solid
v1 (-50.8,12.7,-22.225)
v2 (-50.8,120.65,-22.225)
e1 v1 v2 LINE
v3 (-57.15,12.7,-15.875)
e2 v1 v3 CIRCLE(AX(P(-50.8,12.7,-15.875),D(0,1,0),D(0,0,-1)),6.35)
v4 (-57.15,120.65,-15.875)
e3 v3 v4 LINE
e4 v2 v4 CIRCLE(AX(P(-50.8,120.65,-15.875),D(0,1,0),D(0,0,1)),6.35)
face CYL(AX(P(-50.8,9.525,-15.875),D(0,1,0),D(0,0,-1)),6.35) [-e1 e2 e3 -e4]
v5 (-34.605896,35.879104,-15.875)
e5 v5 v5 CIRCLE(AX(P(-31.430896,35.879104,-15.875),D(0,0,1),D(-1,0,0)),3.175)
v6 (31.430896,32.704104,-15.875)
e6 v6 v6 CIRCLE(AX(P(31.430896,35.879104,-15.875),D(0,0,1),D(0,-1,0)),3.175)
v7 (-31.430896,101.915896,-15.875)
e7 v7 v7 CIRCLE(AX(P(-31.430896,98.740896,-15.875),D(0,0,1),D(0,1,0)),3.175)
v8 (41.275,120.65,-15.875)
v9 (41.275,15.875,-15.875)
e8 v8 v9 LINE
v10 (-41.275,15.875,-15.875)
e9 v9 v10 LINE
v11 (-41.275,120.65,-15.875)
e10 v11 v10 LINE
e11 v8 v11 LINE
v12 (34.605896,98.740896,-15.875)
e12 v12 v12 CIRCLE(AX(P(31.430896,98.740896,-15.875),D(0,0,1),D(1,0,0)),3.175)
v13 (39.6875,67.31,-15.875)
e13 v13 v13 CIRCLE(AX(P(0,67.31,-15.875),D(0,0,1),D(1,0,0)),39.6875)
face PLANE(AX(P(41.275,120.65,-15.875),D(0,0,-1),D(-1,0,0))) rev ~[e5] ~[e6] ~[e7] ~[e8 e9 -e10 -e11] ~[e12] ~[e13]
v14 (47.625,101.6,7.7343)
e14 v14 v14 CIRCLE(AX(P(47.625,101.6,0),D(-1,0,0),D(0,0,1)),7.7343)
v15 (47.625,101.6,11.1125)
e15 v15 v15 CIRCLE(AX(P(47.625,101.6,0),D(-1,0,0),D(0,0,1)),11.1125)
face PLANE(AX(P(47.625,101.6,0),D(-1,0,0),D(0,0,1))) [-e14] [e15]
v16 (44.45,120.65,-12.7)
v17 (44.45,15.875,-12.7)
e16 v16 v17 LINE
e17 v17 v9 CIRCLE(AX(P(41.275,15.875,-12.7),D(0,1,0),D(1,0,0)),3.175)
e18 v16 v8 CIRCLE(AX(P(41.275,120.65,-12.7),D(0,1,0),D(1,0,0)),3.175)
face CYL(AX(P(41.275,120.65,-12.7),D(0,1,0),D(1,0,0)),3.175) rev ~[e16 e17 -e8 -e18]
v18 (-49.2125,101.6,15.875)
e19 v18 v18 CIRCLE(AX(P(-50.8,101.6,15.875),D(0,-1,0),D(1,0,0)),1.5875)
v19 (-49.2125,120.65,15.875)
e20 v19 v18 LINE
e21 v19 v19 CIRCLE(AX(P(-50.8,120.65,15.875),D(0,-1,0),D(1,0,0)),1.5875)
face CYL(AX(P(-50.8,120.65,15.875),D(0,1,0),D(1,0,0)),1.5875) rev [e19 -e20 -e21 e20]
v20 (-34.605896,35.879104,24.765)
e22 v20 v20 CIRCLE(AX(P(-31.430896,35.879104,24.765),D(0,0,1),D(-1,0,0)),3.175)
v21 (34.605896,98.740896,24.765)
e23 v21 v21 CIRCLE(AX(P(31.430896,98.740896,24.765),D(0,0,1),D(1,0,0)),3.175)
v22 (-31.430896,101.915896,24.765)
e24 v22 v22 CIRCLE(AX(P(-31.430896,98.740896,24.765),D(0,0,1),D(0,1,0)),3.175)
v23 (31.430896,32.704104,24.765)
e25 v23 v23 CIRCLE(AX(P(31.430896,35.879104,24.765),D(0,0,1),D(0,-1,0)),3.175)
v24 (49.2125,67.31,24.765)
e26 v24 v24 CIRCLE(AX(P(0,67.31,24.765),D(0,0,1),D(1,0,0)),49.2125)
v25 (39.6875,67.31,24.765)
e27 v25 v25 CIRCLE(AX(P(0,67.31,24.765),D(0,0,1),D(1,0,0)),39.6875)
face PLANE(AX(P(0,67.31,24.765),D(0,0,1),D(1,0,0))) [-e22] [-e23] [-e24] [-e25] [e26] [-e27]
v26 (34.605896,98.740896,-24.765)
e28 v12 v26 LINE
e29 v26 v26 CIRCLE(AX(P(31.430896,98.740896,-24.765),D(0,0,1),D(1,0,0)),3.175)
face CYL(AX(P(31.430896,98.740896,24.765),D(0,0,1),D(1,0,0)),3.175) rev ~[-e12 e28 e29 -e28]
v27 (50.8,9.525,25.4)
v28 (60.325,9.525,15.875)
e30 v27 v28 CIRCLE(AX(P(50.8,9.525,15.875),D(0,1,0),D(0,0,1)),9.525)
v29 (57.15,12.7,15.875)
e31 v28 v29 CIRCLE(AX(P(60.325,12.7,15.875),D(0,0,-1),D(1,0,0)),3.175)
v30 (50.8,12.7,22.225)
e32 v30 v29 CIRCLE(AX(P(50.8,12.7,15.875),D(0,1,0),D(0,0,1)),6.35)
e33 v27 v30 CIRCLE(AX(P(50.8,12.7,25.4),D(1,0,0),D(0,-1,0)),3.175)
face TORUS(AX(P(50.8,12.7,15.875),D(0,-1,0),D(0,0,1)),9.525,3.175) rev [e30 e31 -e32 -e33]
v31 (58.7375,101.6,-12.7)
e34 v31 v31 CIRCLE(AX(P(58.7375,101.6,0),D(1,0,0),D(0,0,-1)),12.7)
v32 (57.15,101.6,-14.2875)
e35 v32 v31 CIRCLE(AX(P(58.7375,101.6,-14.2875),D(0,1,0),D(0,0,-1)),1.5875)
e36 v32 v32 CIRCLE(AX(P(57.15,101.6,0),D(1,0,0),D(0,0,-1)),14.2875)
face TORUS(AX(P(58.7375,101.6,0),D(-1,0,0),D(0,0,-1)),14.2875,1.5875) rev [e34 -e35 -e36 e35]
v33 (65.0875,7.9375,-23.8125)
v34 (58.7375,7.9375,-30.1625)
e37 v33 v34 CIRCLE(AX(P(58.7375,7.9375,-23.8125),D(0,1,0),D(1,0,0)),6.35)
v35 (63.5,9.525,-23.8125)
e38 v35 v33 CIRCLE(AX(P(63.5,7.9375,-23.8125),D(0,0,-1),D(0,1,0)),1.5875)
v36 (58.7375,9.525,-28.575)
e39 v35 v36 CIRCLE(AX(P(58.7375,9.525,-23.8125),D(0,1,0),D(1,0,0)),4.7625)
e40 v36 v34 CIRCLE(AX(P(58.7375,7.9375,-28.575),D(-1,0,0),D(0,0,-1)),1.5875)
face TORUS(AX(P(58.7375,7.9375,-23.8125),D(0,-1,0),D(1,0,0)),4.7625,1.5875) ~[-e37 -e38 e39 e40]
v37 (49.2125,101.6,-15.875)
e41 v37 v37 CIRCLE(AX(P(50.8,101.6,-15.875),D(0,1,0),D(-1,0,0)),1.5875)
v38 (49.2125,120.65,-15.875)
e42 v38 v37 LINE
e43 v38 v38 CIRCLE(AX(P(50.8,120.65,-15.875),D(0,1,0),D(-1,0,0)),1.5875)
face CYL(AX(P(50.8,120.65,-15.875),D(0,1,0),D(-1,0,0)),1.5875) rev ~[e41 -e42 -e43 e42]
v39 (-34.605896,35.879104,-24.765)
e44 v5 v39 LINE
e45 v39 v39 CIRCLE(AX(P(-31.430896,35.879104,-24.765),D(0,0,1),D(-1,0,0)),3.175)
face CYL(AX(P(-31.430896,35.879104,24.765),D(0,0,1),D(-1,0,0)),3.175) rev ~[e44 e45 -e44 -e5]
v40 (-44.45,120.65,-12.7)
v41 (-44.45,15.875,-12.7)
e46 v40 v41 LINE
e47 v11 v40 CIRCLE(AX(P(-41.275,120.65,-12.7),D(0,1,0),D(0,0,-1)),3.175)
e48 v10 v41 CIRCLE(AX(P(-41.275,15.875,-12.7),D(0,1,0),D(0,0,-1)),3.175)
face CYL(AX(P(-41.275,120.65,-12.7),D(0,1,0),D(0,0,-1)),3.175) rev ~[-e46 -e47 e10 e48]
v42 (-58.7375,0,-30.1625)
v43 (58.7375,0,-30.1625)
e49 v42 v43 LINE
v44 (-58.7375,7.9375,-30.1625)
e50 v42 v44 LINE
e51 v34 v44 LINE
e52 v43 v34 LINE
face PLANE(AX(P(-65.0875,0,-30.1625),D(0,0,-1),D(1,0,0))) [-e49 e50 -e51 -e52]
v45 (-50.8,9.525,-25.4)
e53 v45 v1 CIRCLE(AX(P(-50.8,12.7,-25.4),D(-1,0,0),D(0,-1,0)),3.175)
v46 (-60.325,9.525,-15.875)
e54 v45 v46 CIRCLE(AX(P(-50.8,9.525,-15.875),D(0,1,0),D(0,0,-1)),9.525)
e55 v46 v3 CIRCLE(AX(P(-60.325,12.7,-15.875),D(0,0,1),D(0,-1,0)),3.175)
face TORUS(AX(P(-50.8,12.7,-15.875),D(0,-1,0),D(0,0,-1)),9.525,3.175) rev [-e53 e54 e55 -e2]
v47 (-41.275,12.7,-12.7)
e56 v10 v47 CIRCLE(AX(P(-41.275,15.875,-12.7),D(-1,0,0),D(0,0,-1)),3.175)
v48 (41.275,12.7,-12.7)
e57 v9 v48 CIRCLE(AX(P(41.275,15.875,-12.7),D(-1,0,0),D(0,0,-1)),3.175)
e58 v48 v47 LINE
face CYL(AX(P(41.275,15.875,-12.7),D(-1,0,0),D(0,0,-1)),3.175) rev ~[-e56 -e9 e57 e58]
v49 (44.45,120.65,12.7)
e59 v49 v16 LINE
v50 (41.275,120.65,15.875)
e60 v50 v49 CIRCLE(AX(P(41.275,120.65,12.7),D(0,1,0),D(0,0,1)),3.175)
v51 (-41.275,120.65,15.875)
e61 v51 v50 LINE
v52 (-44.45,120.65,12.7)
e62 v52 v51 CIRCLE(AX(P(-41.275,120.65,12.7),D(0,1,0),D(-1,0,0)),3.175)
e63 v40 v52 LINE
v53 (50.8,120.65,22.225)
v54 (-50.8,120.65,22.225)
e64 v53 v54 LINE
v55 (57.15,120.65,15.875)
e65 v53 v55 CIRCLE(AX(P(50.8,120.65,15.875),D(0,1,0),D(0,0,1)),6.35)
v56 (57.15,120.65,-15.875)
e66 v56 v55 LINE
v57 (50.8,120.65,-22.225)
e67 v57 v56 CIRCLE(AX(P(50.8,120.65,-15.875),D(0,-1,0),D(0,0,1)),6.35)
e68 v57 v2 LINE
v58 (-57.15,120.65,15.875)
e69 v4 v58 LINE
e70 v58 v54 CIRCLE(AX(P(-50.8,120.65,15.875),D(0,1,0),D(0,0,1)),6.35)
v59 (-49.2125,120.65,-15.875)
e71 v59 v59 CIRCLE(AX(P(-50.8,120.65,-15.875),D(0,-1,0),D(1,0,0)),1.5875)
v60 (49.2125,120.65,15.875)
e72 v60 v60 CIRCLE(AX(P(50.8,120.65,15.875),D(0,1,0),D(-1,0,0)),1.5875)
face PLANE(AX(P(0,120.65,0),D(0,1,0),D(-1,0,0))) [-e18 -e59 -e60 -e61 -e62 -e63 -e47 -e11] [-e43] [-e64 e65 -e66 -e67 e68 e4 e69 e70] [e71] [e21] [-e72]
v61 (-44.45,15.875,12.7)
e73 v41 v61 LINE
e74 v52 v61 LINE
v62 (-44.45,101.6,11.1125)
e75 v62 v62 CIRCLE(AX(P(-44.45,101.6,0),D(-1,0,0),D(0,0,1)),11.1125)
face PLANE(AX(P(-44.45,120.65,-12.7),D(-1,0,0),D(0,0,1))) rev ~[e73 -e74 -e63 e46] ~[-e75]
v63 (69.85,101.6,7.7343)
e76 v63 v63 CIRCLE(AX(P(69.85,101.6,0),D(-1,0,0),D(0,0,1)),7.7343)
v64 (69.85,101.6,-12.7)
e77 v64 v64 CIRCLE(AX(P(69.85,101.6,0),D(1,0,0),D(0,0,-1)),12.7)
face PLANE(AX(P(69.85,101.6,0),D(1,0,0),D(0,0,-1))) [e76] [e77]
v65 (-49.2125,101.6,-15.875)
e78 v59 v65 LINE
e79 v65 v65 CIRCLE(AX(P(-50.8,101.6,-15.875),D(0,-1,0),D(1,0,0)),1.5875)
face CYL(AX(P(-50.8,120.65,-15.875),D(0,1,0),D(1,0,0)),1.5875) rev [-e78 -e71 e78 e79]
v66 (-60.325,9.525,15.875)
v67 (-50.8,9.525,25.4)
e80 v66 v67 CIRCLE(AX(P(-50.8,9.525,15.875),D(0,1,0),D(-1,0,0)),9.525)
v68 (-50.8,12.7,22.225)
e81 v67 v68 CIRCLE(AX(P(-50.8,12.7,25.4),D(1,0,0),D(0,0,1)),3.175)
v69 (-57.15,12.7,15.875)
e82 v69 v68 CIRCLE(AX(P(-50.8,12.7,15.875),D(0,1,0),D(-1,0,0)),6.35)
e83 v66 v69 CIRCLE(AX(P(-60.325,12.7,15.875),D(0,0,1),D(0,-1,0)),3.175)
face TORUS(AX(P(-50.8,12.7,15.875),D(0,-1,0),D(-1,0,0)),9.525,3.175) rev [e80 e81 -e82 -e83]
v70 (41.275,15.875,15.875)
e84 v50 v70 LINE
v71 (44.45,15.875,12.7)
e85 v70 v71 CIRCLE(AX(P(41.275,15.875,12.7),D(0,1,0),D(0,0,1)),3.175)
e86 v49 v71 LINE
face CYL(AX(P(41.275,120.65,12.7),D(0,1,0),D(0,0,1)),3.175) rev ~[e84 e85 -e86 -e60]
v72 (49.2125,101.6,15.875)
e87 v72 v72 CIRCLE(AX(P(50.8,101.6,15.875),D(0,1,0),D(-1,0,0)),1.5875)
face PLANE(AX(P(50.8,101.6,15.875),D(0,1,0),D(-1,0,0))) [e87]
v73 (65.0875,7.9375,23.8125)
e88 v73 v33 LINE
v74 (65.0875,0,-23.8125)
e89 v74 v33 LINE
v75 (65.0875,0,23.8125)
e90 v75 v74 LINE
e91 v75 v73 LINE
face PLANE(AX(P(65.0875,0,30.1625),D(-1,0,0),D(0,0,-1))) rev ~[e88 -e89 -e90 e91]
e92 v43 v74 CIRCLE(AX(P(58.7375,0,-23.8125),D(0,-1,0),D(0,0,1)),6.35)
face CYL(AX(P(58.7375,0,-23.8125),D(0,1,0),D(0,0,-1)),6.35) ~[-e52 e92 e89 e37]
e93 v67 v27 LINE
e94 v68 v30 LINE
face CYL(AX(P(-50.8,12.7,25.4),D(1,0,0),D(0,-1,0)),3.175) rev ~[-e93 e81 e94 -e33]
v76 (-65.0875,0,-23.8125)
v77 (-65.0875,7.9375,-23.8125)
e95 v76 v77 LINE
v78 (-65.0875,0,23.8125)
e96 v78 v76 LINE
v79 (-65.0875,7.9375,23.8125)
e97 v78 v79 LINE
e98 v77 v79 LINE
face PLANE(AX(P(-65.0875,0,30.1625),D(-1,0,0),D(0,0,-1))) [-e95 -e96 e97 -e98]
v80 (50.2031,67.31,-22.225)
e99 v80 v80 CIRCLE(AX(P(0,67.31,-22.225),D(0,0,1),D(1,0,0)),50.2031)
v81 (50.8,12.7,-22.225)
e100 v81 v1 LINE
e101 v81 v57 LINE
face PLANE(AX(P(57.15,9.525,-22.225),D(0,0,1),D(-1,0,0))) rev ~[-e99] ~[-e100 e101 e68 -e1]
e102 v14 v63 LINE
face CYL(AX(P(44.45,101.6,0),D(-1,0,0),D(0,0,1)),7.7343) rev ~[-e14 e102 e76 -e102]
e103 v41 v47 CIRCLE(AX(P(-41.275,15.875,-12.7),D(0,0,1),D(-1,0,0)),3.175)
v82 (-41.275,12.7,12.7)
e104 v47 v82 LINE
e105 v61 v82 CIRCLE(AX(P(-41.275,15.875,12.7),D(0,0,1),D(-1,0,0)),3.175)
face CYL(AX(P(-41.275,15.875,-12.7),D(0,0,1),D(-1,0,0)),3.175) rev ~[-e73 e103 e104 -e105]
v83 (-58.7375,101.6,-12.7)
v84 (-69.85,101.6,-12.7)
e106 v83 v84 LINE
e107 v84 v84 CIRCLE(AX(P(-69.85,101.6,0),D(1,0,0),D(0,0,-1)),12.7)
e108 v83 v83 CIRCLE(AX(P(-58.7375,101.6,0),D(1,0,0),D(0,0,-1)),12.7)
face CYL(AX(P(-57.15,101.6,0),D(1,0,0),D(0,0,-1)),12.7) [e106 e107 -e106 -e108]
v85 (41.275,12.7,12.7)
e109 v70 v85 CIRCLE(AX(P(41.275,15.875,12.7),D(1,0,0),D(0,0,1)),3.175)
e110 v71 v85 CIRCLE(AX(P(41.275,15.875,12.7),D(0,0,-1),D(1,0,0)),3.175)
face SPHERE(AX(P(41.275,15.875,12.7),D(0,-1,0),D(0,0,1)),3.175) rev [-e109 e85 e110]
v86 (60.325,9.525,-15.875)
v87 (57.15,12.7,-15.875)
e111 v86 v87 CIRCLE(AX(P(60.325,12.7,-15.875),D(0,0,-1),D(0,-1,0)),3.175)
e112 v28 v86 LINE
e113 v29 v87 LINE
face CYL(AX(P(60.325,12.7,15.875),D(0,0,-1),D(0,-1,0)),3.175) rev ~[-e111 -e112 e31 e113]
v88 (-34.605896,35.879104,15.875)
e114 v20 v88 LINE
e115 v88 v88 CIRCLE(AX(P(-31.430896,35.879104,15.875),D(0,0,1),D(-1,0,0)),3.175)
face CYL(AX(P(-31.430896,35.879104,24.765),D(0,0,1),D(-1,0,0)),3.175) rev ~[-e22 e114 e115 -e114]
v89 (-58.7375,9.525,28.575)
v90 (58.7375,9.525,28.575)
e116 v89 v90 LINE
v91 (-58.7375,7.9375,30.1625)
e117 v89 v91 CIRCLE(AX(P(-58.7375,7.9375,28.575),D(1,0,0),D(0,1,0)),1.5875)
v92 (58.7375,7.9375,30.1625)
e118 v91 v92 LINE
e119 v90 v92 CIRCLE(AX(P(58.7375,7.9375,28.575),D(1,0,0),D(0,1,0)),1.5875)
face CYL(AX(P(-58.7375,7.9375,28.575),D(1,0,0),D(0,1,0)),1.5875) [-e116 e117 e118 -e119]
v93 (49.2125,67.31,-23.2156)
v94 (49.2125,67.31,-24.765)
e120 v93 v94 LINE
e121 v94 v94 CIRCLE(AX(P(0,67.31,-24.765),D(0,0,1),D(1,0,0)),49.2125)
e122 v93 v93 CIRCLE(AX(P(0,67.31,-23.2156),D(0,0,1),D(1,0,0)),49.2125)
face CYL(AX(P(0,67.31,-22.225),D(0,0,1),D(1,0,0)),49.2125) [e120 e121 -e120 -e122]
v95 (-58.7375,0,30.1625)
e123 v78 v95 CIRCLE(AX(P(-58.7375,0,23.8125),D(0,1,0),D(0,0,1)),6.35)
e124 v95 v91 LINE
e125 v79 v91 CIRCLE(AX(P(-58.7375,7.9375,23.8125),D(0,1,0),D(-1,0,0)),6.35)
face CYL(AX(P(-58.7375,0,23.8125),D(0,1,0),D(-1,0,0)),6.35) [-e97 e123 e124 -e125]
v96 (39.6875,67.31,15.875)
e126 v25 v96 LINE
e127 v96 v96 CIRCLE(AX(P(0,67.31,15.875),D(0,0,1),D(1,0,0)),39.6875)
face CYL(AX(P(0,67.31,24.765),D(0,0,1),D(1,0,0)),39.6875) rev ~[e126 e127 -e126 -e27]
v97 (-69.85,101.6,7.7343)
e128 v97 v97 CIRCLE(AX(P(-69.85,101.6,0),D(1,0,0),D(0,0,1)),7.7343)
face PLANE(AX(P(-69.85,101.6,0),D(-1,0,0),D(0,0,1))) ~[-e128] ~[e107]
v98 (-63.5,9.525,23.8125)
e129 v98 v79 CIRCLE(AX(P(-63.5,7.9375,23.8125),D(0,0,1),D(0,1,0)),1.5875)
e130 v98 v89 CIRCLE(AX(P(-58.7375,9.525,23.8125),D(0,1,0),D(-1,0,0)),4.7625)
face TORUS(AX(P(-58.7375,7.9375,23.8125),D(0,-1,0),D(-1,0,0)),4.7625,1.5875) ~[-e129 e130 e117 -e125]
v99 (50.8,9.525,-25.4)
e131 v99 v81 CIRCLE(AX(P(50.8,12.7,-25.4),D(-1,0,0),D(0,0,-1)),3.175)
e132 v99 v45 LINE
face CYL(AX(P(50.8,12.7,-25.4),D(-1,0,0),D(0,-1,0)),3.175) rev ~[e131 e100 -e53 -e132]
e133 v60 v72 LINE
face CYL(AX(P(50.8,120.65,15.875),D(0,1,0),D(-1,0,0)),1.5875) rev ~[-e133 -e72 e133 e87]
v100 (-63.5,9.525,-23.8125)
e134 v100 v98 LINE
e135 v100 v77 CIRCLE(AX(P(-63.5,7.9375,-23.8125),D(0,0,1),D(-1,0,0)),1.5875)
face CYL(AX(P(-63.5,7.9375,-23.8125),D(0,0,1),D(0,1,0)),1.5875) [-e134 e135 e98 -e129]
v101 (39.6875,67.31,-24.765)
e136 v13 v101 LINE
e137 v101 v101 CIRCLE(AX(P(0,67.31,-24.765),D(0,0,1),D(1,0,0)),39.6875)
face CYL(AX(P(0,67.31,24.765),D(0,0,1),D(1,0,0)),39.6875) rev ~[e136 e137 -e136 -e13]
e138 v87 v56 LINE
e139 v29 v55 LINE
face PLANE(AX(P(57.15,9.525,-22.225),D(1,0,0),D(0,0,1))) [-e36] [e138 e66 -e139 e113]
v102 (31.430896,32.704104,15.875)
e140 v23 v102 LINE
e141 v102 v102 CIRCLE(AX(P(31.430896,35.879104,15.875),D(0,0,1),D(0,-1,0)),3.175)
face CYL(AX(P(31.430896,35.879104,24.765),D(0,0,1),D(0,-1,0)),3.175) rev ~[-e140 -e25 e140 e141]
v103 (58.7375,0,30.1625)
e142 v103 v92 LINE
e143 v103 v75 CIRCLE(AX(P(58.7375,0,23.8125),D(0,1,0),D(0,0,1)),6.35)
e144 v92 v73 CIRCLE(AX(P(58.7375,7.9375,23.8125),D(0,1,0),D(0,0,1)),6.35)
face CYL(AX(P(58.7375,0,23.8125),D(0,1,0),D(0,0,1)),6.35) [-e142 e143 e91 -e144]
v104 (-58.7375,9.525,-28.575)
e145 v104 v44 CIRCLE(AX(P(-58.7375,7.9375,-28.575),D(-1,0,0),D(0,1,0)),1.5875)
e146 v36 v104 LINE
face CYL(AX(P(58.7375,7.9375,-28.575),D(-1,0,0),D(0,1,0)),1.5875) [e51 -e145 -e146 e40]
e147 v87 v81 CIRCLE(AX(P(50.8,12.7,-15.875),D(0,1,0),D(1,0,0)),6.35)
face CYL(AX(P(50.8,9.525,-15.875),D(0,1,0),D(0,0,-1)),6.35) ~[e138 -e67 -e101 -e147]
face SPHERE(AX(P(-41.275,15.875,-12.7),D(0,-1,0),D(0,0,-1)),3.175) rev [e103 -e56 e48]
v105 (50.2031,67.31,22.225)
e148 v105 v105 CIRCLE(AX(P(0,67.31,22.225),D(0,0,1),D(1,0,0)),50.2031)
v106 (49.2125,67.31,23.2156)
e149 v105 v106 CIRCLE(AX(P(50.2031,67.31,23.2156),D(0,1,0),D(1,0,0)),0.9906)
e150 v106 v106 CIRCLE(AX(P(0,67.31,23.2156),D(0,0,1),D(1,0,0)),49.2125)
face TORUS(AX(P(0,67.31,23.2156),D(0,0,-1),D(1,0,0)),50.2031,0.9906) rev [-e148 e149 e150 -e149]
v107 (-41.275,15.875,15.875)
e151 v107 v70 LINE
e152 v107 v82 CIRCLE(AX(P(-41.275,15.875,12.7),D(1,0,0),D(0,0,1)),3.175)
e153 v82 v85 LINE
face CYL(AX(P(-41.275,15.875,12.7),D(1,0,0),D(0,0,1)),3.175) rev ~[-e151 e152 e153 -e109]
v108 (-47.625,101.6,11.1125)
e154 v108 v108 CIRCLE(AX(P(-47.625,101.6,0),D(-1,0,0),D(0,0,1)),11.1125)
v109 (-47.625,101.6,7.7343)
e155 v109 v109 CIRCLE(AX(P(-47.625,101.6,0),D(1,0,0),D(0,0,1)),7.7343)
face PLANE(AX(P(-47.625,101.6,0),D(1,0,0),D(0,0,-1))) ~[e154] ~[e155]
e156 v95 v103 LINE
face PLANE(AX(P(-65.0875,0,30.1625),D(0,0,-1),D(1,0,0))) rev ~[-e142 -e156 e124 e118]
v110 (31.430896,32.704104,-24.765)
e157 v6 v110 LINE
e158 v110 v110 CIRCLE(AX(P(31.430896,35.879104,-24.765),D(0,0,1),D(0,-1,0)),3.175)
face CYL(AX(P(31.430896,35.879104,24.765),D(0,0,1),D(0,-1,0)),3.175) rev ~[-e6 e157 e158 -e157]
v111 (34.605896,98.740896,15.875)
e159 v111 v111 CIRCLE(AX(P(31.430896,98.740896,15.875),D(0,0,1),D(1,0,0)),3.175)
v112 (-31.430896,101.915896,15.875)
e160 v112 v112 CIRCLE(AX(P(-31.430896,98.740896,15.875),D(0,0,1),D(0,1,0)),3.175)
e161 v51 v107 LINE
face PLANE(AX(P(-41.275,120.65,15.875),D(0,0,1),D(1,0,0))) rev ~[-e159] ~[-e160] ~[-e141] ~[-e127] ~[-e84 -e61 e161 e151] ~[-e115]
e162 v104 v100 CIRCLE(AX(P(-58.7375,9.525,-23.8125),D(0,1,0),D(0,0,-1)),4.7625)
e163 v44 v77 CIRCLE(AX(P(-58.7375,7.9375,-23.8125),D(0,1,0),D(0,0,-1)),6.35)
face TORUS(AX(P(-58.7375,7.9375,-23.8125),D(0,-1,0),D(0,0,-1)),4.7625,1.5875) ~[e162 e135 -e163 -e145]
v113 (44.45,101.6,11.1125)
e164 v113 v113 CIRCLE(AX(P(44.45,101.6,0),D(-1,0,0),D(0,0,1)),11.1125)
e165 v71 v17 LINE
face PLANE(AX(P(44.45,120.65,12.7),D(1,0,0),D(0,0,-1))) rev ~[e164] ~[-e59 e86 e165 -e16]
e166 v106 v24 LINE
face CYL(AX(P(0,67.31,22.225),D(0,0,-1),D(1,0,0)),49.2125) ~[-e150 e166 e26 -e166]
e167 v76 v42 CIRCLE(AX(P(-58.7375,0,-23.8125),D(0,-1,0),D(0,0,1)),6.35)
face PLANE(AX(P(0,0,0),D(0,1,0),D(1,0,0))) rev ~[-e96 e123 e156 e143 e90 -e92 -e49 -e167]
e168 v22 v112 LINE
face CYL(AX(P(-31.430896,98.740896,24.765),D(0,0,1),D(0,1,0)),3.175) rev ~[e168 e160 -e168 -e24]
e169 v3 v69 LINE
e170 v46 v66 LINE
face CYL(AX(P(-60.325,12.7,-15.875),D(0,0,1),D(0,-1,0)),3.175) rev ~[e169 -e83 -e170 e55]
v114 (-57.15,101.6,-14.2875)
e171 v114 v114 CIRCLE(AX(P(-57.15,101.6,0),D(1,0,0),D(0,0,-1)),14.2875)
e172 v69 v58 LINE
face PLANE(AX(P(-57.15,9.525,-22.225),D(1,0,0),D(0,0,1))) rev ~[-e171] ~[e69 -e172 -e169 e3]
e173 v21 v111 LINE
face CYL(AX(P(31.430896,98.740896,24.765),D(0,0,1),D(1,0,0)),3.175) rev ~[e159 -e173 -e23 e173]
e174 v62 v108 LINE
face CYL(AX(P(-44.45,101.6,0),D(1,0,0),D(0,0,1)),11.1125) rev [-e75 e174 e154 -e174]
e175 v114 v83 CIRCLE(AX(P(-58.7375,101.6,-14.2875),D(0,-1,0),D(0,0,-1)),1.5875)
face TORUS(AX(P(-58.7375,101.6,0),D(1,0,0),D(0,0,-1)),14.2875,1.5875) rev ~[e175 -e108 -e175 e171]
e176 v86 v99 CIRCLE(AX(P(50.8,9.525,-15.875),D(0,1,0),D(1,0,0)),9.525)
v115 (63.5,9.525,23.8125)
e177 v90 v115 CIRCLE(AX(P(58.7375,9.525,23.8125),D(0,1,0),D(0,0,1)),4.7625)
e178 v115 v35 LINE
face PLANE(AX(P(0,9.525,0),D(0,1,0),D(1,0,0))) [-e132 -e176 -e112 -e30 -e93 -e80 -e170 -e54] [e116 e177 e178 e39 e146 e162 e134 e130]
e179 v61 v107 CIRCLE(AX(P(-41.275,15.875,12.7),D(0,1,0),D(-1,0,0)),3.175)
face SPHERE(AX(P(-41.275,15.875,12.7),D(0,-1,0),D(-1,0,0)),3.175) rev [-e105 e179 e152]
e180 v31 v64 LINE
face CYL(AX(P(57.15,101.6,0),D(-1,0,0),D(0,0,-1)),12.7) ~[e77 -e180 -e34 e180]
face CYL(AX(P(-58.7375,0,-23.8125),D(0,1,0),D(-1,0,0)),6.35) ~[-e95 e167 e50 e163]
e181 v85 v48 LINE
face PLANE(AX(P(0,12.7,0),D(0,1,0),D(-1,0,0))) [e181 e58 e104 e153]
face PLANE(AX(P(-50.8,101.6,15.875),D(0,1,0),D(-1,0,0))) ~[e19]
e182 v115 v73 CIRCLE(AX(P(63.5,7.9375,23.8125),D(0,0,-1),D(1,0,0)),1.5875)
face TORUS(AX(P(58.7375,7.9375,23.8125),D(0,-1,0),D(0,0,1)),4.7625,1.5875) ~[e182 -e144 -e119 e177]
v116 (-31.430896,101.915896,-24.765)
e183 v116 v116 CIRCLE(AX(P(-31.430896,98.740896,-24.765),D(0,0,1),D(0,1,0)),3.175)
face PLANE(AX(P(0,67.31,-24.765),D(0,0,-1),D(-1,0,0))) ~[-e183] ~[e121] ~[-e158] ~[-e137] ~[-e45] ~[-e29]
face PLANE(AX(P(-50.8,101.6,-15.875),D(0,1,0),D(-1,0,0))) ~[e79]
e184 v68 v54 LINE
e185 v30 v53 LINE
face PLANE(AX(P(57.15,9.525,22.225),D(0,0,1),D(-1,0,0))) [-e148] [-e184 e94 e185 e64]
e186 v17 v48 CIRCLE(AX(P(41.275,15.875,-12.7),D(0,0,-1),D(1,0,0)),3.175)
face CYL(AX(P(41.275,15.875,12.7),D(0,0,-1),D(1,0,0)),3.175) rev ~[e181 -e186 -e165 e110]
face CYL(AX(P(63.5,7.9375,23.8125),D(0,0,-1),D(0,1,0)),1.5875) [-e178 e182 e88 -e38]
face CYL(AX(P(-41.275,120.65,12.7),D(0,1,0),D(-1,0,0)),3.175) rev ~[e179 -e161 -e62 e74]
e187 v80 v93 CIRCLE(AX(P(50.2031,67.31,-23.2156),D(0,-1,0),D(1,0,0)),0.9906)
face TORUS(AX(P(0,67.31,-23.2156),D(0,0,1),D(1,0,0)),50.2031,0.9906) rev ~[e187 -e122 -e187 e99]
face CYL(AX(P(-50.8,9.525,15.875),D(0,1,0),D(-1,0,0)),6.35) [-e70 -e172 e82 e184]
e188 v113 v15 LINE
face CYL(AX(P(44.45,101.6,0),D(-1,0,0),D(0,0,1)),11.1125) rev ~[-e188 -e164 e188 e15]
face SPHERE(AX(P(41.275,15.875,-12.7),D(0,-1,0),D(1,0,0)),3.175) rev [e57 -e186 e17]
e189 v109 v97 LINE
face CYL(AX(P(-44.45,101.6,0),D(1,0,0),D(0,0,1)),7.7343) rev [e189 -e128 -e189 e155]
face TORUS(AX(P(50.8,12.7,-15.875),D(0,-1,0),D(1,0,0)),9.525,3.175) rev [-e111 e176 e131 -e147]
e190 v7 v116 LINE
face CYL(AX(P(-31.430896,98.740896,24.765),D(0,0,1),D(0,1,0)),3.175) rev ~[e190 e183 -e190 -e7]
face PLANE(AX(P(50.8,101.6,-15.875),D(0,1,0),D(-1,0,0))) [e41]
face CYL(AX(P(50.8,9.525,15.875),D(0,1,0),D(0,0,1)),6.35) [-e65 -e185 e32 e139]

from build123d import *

# Parameters (mm, degrees)
SKETCH1_W           = 130.175
SKETCH1_H           = 60.325
BASE_EXTRUDE_DEPTH  = 9.525
SKETCH2_W           = 114.3
SKETCH2_H           = 44.45
BOSS_EXTRUDE1_DEPTH = 111.125
FILLET1_R           = 6.35
FILLET2_R           = 1.5875
FILLET3_R           = 3.175
CUT_EXTRUDE1_DEPTH  = 107.95
FILLET4_R           = 3.175
SKETCH4_R           = 49.2125
BOSS_EXTRUDE2_DEPTH = 2.54
SKETCH5_R           = 39.6875
CUT_EXTRUDE2_DEPTH  = 55.9275
FILLET5_R           = 0.9906
SKETCH6_R           = 12.7
BOSS_EXTRUDE3_DEPTH = 12.7
SKETCH7_R           = 7.7343
CUT_EXTRUDE3_DEPTH  = 26.4
SKETCH8_R           = 11.1125
CUT_EXTRUDE4_DEPTH  = 3.175
FILLET6_R           = 1.5875
SKETCH9_R           = 3.175
CUT_EXTRUDE5_DEPTH  = 55.9275
CIRPATTERN1_COUNT   = 4
SKETCH10_R          = 1.5875
CUT_EXTRUDE6_DEPTH  = 19.05


with BuildPart() as part:
    # Sketch1 → Base-Extrude (new body)
    with BuildSketch(Plane(origin=(0, 0, 0), x_dir=(1, 0, 0), z_dir=(0, 1, 0))):
        Rectangle(SKETCH1_W, SKETCH1_H)
    extrude(amount=BASE_EXTRUDE_DEPTH)

    # Sketch2 → Boss-Extrude1 (add)
    with BuildSketch(Plane(origin=(0, 9.525, 0), x_dir=(-1, 0, 0), z_dir=(0, 1, 0))):
        Rectangle(SKETCH2_W, SKETCH2_H)
    extrude(amount=BOSS_EXTRUDE1_DEPTH)

    # Fillet1
    fillet1_edges = [part.edges().sort_by_distance(p)[0] for p in [
        (-57.15, 65.0875, -22.225),
        (-57.15, 65.0875, 22.225),
        (57.15, 65.0875, 22.225),
        (57.15, 65.0875, -22.225),
        (-65.0875, 4.7625, -30.1625),
        (65.0875, 4.7625, -30.1625),
        (65.0875, 4.7625, 30.1625),
        (-65.0875, 4.7625, 30.1625),
    ]]
    fillet(fillet1_edges, radius=FILLET1_R)

    # Fillet2
    fillet2_edges = [part.edges().sort_by_distance(p)[0] for p in [
        (0, 9.525, 30.1625),
        (-65.0875, 9.525, 0),
        (65.0875, 9.525, 0),
        (0, 9.525, -30.1625),
        (-63.227628061, 9.525, -28.302628061),
        (63.227628061, 9.525, 28.302628061),
        (63.227628061, 9.525, -28.302628061),
        (-63.227628061, 9.525, 28.302628061),
    ]]
    fillet(fillet2_edges, radius=FILLET2_R)

    # Fillet3
    fillet3_edges = [part.edges().sort_by_distance(p)[0] for p in [
        (-57.15, 9.525, 0),
        (0, 9.525, -22.225),
        (57.15, 9.525, 0),
        (0, 9.525, 22.225),
        (-55.290128061, 9.525, 20.365128061),
        (-55.290128061, 9.525, -20.365128061),
        (55.290128061, 9.525, 20.365128061),
        (55.290128061, 9.525, -20.365128061),
    ]]
    fillet(fillet3_edges, radius=FILLET3_R)

    # Sketch3 → Cut-Extrude1 (cut)
    with BuildSketch(Plane(origin=(0, 120.65, 0), x_dir=(-1, 0, 0), z_dir=(0, 1, 0))):
        with BuildLine():
            Line((41.275, 15.875), (-41.275, 15.875))
            ThreePointArc((-41.275, 15.875), (-43.52006403, 14.94506403), (-44.45, 12.7))
            Line((-44.45, 12.7), (-44.45, -12.7))
            ThreePointArc((-44.45, -12.7), (-43.52006403, -14.94506403), (-41.275, -15.875))
            Line((-41.275, -15.875), (41.275, -15.875))
            ThreePointArc((41.275, -15.875), (43.52006403, -14.94506403), (44.45, -12.7))
            Line((44.45, -12.7), (44.45, 12.7))
            ThreePointArc((44.45, 12.7), (43.52006403, 14.94506403), (41.275, 15.875))
        make_face()
    extrude(amount=-CUT_EXTRUDE1_DEPTH, mode=Mode.SUBTRACT)

    # Fillet4
    fillet4_edges = [part.edges().sort_by_distance(p)[0] for p in [
        (0, 12.7, 15.875),
        (-44.45, 12.7, 0),
        (0, 12.7, -15.875),
        (44.45, 12.7, 0),
    ]]
    fillet(fillet4_edges, radius=FILLET4_R)

    # Sketch4 → Boss-Extrude2 (add)
    with BuildSketch(Plane.XY.offset(22.225)):
        with Locations((0, 67.31)):
            Circle(SKETCH4_R)
    boss_extrude2 = extrude(amount=BOSS_EXTRUDE2_DEPTH)

    # Mirror1: Boss-Extrude2 across plane
    add(boss_extrude2.mirror(Plane.XY))

    # Sketch5 → Cut-Extrude2 (cut, through all)
    with BuildSketch(Plane.XY.offset(24.765)):
        with Locations((0, 67.31)):
            Circle(SKETCH5_R)
    extrude(amount=-CUT_EXTRUDE2_DEPTH, mode=Mode.SUBTRACT)

    # Fillet5
    fillet5_edges = [part.edges().sort_by_distance(p)[0] for p in [
        (-49.2125, 67.31, 22.225),
        (-49.2125, 67.31, -22.225),
    ]]
    fillet(fillet5_edges, radius=FILLET5_R)

    # Sketch6 → Boss-Extrude3 (add)
    with BuildSketch(Plane(origin=(57.15, 0, 0), x_dir=(0, 0, -1), z_dir=(1, 0, 0))):
        with Locations((0, 101.6)):
            Circle(SKETCH6_R)
    boss_extrude3 = extrude(amount=BOSS_EXTRUDE3_DEPTH)

    # Sketch7 → Cut-Extrude3 (cut, through all)
    with BuildSketch(Plane.ZY.offset(-44.45)):
        with Locations((0, 101.6)):
            Circle(SKETCH7_R)
    cut_extrude3 = extrude(amount=-CUT_EXTRUDE3_DEPTH, mode=Mode.SUBTRACT)

    # Sketch8 → Cut-Extrude4 (cut)
    with BuildSketch(Plane.ZY.offset(-44.45)):
        with Locations((0, 101.6)):
            Circle(SKETCH8_R)
    cut_extrude4 = extrude(amount=-CUT_EXTRUDE4_DEPTH, mode=Mode.SUBTRACT)

    # Mirror3: Boss-Extrude3, Cut-Extrude3, Cut-Extrude4 across plane
    add(boss_extrude3.mirror(Plane(origin=(0, 0, 0), x_dir=(0, 0, 1), z_dir=(1, 0, 0))))
    add(cut_extrude3.mirror(Plane(origin=(0, 0, 0), x_dir=(0, 0, 1), z_dir=(1, 0, 0))), mode=Mode.SUBTRACT)
    add(cut_extrude4.mirror(Plane(origin=(0, 0, 0), x_dir=(0, 0, 1), z_dir=(1, 0, 0))), mode=Mode.SUBTRACT)

    # Fillet6
    fillet6_edges = [part.edges().sort_by_distance(p)[0] for p in [
        (57.15, 101.6, 12.7),
        (-57.15, 101.6, 12.7),
    ]]
    fillet(fillet6_edges, radius=FILLET6_R)

    # Sketch9 → Cut-Extrude5 (cut, through all)
    with BuildSketch(Plane.XY.offset(24.765)):
        with Locations((31.430896424, 98.740896424)):
            Circle(SKETCH9_R)
    cut_extrude5 = extrude(amount=-CUT_EXTRUDE5_DEPTH, mode=Mode.SUBTRACT)

    # CirPattern1: Cut-Extrude5 ×4 about axis
    cirpattern1_axis = Axis((0, 67.31, 0), (0, 0, 1))
    for i in range(1, CIRPATTERN1_COUNT):
        add(cut_extrude5.rotate(cirpattern1_axis, i * 360 / CIRPATTERN1_COUNT), mode=Mode.SUBTRACT)

    # Sketch10 → Cut-Extrude6 (cut)
    with BuildSketch(Plane(origin=(0, 120.65, 0), x_dir=(-1, 0, 0), z_dir=(0, 1, 0))):
        with Locations((-50.8, -15.875)):
            Circle(SKETCH10_R)
        with Locations((-50.8, 15.875)):
            Circle(SKETCH10_R)
    cut_extrude6 = extrude(amount=-CUT_EXTRUDE6_DEPTH, mode=Mode.SUBTRACT)

    # Mirror4: Cut-Extrude6 across plane
    add(cut_extrude6.mirror(Plane(origin=(0, 0, 0), x_dir=(0, 0, 1), z_dir=(1, 0, 0))), mode=Mode.SUBTRACT)


solid = part.part
